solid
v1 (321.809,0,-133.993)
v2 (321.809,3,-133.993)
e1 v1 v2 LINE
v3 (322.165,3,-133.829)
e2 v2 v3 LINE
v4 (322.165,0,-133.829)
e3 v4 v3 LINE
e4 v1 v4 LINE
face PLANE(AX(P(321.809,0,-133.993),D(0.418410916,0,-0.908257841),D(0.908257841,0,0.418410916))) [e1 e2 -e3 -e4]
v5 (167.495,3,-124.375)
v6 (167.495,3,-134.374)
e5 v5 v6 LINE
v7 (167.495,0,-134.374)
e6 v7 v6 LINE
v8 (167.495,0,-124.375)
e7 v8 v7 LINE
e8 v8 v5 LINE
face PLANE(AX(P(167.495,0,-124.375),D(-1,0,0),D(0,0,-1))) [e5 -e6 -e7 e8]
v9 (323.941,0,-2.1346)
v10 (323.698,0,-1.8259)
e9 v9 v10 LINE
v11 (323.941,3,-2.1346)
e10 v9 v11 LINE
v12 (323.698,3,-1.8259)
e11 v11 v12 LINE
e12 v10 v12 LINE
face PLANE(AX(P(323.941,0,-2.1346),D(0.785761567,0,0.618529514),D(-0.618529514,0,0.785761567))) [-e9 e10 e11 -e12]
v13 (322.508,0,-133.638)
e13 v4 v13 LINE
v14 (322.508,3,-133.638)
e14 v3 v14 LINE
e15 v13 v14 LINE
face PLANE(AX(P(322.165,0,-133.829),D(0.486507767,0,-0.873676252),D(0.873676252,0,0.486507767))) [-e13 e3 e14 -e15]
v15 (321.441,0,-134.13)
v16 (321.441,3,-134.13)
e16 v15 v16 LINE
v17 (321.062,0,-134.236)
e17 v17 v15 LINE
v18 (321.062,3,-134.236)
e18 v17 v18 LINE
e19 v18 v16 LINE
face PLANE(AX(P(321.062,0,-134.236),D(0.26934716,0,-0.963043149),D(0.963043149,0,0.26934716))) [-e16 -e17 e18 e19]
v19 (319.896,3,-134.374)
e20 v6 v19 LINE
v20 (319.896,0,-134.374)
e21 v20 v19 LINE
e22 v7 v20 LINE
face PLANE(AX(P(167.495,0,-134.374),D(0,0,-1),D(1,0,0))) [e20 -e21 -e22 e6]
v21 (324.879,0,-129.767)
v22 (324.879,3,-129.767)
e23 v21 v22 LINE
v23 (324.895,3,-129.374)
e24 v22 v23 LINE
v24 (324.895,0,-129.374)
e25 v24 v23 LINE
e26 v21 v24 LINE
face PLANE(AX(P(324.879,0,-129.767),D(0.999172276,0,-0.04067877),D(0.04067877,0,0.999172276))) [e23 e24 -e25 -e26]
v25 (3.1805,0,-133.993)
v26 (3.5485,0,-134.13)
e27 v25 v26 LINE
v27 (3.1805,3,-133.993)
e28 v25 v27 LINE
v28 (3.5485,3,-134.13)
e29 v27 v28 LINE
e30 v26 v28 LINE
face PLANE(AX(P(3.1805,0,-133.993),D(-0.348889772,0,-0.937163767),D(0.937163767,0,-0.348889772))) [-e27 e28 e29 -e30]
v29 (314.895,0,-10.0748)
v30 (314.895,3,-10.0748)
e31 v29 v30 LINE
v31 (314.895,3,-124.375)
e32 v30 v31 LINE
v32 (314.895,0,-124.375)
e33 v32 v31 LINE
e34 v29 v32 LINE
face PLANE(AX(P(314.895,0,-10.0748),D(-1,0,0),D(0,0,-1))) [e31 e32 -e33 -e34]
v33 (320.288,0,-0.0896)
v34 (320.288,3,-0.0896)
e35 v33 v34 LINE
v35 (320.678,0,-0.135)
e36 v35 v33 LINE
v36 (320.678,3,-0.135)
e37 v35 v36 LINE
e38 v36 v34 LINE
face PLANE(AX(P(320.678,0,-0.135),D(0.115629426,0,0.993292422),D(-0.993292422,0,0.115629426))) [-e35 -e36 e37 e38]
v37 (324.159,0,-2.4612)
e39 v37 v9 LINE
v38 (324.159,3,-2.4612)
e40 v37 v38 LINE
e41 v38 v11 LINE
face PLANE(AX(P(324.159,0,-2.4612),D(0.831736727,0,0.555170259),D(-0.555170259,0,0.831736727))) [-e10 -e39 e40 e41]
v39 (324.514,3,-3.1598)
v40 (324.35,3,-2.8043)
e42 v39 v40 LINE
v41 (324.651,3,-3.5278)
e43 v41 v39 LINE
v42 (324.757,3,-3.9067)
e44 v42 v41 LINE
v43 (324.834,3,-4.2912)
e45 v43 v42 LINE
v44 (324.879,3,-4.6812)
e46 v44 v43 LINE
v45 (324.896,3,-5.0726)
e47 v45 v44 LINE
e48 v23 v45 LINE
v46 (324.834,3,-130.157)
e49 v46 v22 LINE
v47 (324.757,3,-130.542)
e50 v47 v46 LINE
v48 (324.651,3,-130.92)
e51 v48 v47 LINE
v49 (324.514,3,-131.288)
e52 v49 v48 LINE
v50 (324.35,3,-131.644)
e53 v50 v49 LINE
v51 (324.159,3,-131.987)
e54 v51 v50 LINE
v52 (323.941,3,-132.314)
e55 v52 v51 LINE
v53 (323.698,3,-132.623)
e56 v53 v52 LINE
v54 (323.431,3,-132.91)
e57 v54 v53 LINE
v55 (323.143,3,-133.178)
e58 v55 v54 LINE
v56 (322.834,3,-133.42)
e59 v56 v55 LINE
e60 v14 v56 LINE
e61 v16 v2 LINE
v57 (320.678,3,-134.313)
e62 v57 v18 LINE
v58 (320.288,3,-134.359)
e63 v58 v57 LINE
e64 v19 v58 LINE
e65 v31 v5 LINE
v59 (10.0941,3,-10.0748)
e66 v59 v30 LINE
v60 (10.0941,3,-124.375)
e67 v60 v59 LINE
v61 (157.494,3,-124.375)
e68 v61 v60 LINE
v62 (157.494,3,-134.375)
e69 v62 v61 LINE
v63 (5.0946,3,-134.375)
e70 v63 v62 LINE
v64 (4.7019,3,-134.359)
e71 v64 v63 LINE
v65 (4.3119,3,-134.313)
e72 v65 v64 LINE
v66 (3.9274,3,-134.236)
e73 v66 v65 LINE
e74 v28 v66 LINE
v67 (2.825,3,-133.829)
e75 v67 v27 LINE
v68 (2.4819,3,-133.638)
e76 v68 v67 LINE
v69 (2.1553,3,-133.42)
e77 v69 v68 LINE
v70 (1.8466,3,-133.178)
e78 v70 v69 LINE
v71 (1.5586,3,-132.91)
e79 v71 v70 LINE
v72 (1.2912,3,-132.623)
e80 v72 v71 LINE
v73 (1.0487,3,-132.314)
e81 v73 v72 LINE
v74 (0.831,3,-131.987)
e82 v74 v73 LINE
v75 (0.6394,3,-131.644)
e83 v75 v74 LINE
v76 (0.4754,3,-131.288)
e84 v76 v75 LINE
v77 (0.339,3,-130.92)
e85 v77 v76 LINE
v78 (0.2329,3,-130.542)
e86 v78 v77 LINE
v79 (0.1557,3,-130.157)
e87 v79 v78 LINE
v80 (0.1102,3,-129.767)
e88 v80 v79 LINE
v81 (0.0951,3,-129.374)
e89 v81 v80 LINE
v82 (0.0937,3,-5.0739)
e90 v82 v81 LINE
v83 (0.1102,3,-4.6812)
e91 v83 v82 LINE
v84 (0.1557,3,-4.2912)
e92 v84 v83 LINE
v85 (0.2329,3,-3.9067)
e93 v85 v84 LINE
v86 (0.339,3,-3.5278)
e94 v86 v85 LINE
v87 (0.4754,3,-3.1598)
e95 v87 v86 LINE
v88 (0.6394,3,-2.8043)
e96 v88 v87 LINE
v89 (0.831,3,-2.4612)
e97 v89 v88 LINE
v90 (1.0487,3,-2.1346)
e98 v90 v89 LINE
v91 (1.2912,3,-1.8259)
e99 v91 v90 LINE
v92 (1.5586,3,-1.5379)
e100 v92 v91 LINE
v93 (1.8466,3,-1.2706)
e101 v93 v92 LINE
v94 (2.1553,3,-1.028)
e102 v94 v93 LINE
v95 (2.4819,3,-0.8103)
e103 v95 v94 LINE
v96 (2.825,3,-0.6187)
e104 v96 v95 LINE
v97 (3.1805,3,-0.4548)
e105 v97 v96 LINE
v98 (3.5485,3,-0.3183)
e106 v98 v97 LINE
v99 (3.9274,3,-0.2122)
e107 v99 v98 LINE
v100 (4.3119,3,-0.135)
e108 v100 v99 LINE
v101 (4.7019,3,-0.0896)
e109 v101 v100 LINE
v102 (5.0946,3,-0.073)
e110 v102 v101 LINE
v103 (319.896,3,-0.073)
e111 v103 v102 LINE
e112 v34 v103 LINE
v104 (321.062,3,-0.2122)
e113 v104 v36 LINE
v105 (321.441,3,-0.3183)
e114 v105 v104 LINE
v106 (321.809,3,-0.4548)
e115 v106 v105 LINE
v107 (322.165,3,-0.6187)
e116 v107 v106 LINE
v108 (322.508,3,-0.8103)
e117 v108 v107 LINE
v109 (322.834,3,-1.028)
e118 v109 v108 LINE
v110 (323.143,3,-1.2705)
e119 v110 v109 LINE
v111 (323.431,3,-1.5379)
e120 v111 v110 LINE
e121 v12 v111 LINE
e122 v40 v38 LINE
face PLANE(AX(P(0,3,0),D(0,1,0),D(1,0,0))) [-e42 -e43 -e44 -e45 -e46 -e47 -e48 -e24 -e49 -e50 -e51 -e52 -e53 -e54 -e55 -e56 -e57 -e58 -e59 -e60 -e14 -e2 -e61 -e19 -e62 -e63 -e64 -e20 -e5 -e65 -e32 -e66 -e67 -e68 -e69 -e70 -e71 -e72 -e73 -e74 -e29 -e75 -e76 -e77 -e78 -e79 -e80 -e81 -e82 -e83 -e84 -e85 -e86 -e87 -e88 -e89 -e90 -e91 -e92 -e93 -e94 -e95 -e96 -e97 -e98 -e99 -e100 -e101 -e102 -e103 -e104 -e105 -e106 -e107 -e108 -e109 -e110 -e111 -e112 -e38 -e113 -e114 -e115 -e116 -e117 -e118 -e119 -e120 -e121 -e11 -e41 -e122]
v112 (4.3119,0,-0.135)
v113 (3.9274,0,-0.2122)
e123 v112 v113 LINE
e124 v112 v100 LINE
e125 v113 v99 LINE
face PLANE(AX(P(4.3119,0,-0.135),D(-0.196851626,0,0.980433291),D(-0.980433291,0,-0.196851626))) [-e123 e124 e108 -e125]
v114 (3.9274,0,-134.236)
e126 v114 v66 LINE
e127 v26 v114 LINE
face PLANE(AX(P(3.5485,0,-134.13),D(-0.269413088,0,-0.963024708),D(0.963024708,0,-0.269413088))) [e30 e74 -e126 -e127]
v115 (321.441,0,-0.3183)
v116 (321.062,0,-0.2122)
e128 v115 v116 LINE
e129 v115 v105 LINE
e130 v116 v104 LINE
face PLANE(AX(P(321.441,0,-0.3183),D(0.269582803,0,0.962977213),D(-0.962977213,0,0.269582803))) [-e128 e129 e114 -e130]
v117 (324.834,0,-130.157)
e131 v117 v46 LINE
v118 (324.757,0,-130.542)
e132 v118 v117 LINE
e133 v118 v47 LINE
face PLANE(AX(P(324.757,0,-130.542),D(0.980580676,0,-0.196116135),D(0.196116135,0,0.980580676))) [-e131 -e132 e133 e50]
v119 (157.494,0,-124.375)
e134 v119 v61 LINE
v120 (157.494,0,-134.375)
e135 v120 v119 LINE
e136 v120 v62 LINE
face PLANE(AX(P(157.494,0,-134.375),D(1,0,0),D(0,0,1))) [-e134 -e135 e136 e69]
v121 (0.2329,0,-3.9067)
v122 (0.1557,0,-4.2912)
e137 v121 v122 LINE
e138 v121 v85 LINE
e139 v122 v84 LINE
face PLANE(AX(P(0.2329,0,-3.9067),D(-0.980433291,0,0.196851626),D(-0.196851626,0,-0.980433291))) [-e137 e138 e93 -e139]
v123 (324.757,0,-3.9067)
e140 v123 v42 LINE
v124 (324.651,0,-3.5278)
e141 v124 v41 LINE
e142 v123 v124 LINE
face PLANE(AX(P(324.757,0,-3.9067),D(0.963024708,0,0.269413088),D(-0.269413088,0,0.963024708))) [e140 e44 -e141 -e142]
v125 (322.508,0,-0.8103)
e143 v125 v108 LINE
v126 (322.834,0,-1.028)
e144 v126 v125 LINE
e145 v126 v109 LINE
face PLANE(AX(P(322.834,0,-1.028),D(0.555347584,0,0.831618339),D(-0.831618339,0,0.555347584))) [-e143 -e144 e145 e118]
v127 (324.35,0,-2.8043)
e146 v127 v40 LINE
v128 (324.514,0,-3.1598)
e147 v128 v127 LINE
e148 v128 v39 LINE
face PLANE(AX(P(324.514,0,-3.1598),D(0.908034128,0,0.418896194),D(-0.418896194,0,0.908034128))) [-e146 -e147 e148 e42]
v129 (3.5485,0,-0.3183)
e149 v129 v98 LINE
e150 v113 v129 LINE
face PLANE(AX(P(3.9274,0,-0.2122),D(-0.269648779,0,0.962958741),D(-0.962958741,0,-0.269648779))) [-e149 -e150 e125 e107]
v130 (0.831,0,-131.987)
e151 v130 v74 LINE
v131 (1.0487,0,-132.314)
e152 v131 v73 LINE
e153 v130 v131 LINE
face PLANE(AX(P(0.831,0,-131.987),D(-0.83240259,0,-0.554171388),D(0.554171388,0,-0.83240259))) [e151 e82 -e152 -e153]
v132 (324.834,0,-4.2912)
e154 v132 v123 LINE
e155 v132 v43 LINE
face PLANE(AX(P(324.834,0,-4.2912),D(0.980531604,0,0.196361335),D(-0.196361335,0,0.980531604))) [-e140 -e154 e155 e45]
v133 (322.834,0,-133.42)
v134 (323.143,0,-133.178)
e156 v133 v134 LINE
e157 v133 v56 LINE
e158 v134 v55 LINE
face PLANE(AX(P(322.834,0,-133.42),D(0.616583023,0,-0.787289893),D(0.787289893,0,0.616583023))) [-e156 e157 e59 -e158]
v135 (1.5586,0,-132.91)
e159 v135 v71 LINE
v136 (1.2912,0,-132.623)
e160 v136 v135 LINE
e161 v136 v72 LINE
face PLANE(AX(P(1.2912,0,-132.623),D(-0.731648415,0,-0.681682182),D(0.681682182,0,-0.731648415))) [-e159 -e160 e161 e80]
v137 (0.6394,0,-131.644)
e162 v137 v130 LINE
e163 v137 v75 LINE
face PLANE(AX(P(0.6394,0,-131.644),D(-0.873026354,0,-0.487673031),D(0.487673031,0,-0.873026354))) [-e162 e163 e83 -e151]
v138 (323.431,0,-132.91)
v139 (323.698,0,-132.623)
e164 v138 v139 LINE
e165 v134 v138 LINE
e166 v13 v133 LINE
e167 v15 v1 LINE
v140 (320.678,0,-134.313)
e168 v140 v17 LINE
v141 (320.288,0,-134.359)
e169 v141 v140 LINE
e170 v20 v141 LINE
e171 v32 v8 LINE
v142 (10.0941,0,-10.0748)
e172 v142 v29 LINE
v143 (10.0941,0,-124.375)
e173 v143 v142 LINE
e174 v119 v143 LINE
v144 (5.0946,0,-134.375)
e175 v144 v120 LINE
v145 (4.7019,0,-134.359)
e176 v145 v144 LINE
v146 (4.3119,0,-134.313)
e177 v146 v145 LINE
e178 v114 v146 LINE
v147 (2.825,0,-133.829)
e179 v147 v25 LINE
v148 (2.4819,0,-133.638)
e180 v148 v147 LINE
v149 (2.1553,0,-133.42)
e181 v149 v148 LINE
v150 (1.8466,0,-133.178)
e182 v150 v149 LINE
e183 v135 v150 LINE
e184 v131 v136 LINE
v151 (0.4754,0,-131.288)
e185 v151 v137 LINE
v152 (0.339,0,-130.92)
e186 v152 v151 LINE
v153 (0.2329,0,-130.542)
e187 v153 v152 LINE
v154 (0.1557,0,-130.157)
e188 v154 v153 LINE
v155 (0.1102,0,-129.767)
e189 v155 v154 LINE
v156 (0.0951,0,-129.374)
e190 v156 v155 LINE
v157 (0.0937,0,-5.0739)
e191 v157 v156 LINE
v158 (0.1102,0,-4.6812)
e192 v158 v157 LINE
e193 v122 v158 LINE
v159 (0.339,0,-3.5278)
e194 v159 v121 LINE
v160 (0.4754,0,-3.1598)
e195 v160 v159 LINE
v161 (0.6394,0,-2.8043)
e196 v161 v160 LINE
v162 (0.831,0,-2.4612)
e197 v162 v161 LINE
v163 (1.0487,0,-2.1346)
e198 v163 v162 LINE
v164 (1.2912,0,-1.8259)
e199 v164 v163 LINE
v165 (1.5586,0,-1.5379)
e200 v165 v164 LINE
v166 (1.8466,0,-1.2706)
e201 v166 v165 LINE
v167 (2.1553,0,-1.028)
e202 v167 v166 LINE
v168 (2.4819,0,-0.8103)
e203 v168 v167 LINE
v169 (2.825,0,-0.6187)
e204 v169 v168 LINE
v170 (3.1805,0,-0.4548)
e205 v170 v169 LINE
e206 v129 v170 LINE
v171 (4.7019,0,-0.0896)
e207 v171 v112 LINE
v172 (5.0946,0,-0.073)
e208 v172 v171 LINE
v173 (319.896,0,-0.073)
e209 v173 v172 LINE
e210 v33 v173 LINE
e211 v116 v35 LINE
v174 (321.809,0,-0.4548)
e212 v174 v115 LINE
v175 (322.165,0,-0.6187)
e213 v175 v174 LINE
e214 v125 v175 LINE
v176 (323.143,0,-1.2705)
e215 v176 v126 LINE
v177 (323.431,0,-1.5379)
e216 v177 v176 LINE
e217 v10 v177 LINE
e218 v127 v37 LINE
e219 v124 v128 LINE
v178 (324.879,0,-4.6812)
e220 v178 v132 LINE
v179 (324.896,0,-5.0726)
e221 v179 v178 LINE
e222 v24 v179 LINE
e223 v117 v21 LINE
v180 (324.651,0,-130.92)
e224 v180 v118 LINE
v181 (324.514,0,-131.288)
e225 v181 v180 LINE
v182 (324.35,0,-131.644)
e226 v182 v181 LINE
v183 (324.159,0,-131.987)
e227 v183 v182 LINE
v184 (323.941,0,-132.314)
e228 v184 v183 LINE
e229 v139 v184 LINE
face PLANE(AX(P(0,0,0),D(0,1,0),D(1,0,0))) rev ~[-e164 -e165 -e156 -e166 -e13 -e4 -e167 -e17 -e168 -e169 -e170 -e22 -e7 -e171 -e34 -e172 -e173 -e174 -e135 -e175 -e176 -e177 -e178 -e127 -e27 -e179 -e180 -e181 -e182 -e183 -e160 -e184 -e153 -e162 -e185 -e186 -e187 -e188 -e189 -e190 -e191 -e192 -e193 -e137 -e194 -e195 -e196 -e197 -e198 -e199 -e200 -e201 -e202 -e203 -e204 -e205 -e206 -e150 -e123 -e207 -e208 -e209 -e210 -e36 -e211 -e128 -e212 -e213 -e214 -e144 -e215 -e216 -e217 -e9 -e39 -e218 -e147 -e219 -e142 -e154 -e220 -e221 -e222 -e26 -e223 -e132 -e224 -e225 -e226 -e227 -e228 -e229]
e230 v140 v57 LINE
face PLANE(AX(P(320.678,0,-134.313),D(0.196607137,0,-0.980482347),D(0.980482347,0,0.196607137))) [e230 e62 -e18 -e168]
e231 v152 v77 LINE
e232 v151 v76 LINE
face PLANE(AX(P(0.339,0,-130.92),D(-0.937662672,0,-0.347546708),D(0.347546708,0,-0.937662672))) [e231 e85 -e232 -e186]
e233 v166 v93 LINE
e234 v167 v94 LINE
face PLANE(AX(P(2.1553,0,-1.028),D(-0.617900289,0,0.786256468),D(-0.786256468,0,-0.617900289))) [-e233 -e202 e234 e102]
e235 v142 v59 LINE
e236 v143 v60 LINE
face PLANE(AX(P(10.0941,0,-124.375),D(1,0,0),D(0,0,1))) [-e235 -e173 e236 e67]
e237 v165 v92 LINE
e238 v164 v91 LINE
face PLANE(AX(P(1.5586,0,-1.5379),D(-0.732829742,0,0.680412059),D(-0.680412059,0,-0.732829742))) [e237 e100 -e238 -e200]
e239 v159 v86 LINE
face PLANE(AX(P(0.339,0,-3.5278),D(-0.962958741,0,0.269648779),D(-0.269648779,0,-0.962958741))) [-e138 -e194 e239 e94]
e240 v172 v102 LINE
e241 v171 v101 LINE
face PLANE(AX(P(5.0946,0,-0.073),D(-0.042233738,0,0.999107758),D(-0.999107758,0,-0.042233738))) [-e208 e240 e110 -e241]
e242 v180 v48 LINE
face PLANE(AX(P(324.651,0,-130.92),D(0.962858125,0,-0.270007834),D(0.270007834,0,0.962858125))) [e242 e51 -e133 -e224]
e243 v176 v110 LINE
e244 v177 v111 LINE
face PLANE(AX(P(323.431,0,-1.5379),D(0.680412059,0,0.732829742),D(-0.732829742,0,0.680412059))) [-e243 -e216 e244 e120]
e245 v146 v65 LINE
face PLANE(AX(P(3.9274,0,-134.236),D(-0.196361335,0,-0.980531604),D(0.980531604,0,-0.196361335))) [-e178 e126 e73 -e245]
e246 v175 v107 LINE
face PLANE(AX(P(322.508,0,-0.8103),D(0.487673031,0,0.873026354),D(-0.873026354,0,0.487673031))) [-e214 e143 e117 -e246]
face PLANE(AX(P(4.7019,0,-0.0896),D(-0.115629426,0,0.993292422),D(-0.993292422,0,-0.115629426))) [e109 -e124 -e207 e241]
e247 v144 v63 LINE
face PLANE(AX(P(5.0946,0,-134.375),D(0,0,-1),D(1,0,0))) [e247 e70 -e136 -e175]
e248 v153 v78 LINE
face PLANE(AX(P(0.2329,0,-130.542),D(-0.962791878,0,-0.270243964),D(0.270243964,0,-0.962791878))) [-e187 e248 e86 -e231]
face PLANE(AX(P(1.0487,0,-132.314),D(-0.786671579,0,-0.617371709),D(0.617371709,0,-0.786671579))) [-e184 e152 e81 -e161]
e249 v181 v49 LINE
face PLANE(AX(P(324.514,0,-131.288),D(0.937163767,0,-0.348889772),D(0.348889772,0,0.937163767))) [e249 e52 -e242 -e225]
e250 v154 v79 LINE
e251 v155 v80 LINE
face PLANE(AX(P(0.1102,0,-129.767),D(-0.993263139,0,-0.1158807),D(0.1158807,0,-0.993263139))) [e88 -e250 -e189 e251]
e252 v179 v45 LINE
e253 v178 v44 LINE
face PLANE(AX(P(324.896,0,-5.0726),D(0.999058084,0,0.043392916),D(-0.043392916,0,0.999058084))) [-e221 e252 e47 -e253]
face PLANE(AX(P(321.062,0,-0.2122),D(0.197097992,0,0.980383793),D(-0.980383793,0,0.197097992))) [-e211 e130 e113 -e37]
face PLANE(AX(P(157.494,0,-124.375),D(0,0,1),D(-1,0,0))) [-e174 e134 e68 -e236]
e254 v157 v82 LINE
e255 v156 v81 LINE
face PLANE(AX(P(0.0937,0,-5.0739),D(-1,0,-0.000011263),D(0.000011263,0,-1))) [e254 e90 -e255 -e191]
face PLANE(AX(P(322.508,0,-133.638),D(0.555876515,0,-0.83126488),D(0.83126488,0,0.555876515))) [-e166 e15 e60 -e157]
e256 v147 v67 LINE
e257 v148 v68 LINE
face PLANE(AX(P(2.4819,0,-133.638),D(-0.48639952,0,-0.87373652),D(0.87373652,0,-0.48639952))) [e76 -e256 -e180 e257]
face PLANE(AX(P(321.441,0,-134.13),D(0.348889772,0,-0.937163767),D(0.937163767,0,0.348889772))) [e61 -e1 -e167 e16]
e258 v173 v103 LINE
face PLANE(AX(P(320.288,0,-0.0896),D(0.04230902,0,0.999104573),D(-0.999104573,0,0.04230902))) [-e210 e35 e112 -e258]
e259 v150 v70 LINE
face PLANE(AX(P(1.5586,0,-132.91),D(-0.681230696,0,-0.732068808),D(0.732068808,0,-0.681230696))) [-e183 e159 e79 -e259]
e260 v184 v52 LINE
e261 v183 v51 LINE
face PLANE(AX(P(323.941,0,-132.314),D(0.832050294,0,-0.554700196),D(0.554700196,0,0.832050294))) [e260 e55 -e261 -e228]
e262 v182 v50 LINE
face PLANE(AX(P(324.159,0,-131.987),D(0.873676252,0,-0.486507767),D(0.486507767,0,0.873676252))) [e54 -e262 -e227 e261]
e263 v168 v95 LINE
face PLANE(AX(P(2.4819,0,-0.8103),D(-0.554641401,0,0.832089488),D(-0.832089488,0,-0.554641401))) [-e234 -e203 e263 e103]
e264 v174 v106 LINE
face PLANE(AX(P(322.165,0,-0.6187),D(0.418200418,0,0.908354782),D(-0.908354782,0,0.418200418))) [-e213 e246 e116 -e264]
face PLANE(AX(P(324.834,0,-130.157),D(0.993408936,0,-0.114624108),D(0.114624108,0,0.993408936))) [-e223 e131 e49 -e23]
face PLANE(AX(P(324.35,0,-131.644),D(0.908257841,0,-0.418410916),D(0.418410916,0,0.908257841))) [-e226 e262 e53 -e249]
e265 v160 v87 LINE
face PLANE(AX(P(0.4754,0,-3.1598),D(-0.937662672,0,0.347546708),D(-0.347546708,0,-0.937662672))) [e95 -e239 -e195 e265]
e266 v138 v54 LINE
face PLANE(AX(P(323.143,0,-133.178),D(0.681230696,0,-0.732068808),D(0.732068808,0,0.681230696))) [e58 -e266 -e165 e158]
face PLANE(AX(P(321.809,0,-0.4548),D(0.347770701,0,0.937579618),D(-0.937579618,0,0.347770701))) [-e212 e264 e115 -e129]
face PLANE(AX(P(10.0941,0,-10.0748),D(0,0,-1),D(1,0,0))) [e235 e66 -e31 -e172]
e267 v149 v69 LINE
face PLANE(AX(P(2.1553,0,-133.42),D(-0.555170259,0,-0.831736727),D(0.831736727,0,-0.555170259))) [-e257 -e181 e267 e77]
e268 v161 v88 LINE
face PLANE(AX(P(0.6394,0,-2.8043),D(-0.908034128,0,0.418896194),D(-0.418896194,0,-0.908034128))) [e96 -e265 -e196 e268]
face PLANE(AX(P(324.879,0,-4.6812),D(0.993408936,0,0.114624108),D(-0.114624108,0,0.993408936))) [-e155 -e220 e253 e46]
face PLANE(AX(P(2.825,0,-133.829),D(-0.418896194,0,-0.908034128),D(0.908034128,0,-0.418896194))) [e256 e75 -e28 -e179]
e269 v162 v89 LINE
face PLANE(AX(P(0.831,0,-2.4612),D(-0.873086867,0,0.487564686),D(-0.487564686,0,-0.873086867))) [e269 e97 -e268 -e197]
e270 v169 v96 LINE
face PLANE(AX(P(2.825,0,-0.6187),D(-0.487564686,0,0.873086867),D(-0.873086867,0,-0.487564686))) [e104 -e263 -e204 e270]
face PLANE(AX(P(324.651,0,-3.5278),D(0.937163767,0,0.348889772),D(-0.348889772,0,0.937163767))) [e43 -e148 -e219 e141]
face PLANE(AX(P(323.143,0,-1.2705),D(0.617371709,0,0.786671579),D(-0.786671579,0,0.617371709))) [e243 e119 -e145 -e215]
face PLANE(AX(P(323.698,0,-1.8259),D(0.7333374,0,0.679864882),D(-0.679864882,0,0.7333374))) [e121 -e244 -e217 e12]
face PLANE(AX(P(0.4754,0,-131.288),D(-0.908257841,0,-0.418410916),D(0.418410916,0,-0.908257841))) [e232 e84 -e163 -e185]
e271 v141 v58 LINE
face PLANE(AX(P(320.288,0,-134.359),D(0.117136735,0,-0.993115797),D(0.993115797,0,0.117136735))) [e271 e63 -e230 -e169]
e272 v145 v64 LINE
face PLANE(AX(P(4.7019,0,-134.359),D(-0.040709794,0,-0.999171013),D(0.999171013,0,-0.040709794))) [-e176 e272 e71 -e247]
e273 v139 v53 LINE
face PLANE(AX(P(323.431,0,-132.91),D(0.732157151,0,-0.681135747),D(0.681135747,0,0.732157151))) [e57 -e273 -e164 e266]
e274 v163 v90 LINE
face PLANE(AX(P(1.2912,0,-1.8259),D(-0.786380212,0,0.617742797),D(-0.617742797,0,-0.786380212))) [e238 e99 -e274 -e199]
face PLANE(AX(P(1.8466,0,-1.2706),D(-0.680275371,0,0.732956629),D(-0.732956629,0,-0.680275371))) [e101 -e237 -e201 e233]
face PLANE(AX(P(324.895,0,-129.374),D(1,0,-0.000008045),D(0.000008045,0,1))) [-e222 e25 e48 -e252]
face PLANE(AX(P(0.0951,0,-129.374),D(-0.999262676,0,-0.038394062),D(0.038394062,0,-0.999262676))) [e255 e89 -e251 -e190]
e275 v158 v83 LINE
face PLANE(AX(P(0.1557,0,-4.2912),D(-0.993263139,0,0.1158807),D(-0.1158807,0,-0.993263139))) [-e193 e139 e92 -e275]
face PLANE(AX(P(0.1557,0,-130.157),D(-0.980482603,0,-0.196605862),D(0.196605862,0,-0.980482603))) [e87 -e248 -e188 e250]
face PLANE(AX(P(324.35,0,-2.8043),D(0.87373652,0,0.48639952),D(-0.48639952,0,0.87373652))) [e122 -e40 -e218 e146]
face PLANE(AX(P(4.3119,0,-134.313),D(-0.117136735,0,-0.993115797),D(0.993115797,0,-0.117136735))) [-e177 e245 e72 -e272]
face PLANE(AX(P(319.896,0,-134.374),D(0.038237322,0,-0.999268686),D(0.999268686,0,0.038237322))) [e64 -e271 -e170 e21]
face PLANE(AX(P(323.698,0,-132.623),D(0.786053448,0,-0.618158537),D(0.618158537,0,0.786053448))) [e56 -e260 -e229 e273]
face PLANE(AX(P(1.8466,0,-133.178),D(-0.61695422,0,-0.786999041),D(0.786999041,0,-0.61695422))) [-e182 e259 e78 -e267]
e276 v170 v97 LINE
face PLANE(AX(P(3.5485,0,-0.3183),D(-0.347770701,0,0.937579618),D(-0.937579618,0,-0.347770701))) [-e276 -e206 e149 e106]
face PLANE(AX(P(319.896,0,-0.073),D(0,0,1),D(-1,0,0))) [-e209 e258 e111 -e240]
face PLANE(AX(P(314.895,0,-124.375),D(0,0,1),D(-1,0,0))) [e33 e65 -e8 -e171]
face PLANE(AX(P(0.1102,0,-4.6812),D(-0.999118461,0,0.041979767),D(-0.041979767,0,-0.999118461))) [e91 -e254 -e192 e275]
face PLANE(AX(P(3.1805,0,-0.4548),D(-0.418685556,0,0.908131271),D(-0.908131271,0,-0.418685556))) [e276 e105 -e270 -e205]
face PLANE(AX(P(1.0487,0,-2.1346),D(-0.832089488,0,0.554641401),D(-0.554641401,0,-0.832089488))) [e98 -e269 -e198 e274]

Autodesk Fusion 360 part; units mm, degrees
sketch "Sketch1" plane through (0, 0, 0) normal (0, 1, 0) x (1, 0, 0)
  line L0 (3.5485, 0.3183) -> (3.1805, 0.4548)
  line L1 (2.825, 0.6187) -> (2.4819, 0.8103)
  line L2 (2.1553, 1.028) -> (1.8466, 1.2706)
  line L3 (324.159, 131.987) -> (324.35, 131.644)
  line L4 (324.651, 130.92) -> (324.757, 130.542)
  line L5 (314.895, 10.0748) -> (314.895, 124.375)
  line L6 (321.441, 134.13) -> (321.809, 133.993)
  line L7 (3.1805, 0.4548) -> (2.825, 0.6187)
  line L8 (321.062, 134.236) -> (321.441, 134.13)
  line L9 (324.834, 130.157) -> (324.879, 129.767)
  line L10 (323.941, 2.1346) -> (323.698, 1.8259)
  line L11 (324.834, 4.2912) -> (324.757, 3.9067)
  line L12 (3.9274, 0.2122) -> (3.5485, 0.3183)
  line L13 (2.4819, 0.8103) -> (2.1553, 1.028)
  line L14 (167.495, 124.375) -> (167.495, 134.374)
  line L15 (1.5586, 1.5379) -> (1.2912, 1.8259)
  line L16 (321.062, 0.2122) -> (320.678, 0.135)
  line L17 (321.809, 0.4548) -> (321.441, 0.3183)
  line L18 (324.757, 3.9067) -> (324.651, 3.5278)
  line L19 (324.35, 2.8043) -> (324.159, 2.4612)
  line L20 (324.757, 130.542) -> (324.834, 130.157)
  line L21 (324.514, 131.288) -> (324.651, 130.92)
  line L22 (324.159, 2.4612) -> (323.941, 2.1346)
  line L23 (157.494, 124.375) -> (10.0941, 124.375)
  line L24 (323.431, 1.5379) -> (323.143, 1.2705)
  line L25 (157.494, 134.375) -> (157.494, 124.375)
  line L26 (320.678, 134.313) -> (321.062, 134.236)
  line L27 (323.431, 132.91) -> (323.698, 132.623)
  line L28 (324.879, 129.767) -> (324.895, 129.374)
  line L29 (10.0941, 10.0748) -> (314.895, 10.0748)
  line L30 (320.288, 0.0896) -> (319.896, 0.073)
  line L31 (319.896, 0.073) -> (5.0946, 0.073)
  line L32 (5.0946, 0.073) -> (4.7019, 0.0896)
  line L33 (0.6394, 131.644) -> (0.831, 131.987)
  line L34 (1.2912, 1.8259) -> (1.0487, 2.1346)
  line L35 (167.495, 134.374) -> (319.896, 134.374)
  line L36 (0.831, 2.4612) -> (0.6394, 2.8043)
  line L37 (1.8466, 1.2706) -> (1.5586, 1.5379)
  line L38 (323.941, 132.314) -> (324.159, 131.987)
  line L39 (10.0941, 124.375) -> (10.0941, 10.0748)
  line L40 (0.4754, 3.1598) -> (0.339, 3.5278)
  line L41 (322.508, 0.8103) -> (322.165, 0.6187)
  line L42 (0.0937, 5.0739) -> (0.0951, 129.374)
  line L43 (1.8466, 133.178) -> (2.1553, 133.42)
  line L44 (0.2329, 130.542) -> (0.339, 130.92)
  line L45 (3.1805, 133.993) -> (3.5485, 134.13)
  line L46 (323.698, 132.623) -> (323.941, 132.314)
  line L47 (324.895, 129.374) -> (324.896, 5.0726)
  line L48 (320.678, 0.135) -> (320.288, 0.0896)
  line L49 (324.35, 131.644) -> (324.514, 131.288)
  line L50 (322.834, 133.42) -> (323.143, 133.178)
  line L51 (0.0951, 129.374) -> (0.1102, 129.767)
  line L52 (3.5485, 134.13) -> (3.9274, 134.236)
  line L53 (0.1102, 4.6812) -> (0.0937, 5.0739)
  line L54 (5.0946, 134.375) -> (157.494, 134.375)
  line L55 (319.896, 134.374) -> (320.288, 134.359)
  line L56 (324.896, 5.0726) -> (324.879, 4.6812)
  line L57 (0.1557, 130.157) -> (0.2329, 130.542)
  line L58 (4.7019, 134.359) -> (5.0946, 134.375)
  line L59 (322.508, 133.638) -> (322.834, 133.42)
  line L60 (4.3119, 0.135) -> (3.9274, 0.2122)
  line L61 (324.514, 3.1598) -> (324.35, 2.8043)
  line L62 (4.7019, 0.0896) -> (4.3119, 0.135)
  line L63 (324.879, 4.6812) -> (324.834, 4.2912)
  line L64 (321.441, 0.3183) -> (321.062, 0.2122)
  line L65 (321.809, 133.993) -> (322.165, 133.829)
  line L66 (0.6394, 2.8043) -> (0.4754, 3.1598)
  line L67 (0.831, 131.987) -> (1.0487, 132.314)
  line L68 (0.339, 3.5278) -> (0.2329, 3.9067)
  line L69 (2.4819, 133.638) -> (2.825, 133.829)
  line L70 (1.2912, 132.623) -> (1.5586, 132.91)
  line L71 (322.834, 1.028) -> (322.508, 0.8103)
  line L72 (320.288, 134.359) -> (320.678, 134.313)
  line L73 (1.5586, 132.91) -> (1.8466, 133.178)
  line L74 (0.2329, 3.9067) -> (0.1557, 4.2912)
  line L75 (314.895, 124.375) -> (167.495, 124.375)
  line L76 (323.143, 1.2706) -> (322.834, 1.028)
  line L77 (324.651, 3.5278) -> (324.514, 3.1598)
  line L78 (0.339, 130.92) -> (0.4754, 131.288)
  line L79 (322.165, 0.6187) -> (321.809, 0.4548)
  line L80 (4.3119, 134.313) -> (4.7019, 134.359)
  line L81 (0.1557, 4.2912) -> (0.1102, 4.6812)
  line L82 (0.1102, 129.767) -> (0.1557, 130.157)
  line L83 (3.9274, 134.236) -> (4.3119, 134.313)
  line L84 (2.825, 133.829) -> (3.1805, 133.993)
  line L85 (323.698, 1.8259) -> (323.431, 1.5379)
  line L86 (2.1553, 133.42) -> (2.4819, 133.638)
  line L87 (1.0487, 2.1346) -> (0.831, 2.4612)
  line L88 (0.4754, 131.288) -> (0.6394, 131.644)
  line L89 (1.0487, 132.314) -> (1.2912, 132.623)
  line L90 (322.165, 133.829) -> (322.508, 133.638)
  line L91 (323.143, 133.178) -> (323.431, 132.91)
extrude "Extrude1" add sketch "Sketch1" along normal blind 3
